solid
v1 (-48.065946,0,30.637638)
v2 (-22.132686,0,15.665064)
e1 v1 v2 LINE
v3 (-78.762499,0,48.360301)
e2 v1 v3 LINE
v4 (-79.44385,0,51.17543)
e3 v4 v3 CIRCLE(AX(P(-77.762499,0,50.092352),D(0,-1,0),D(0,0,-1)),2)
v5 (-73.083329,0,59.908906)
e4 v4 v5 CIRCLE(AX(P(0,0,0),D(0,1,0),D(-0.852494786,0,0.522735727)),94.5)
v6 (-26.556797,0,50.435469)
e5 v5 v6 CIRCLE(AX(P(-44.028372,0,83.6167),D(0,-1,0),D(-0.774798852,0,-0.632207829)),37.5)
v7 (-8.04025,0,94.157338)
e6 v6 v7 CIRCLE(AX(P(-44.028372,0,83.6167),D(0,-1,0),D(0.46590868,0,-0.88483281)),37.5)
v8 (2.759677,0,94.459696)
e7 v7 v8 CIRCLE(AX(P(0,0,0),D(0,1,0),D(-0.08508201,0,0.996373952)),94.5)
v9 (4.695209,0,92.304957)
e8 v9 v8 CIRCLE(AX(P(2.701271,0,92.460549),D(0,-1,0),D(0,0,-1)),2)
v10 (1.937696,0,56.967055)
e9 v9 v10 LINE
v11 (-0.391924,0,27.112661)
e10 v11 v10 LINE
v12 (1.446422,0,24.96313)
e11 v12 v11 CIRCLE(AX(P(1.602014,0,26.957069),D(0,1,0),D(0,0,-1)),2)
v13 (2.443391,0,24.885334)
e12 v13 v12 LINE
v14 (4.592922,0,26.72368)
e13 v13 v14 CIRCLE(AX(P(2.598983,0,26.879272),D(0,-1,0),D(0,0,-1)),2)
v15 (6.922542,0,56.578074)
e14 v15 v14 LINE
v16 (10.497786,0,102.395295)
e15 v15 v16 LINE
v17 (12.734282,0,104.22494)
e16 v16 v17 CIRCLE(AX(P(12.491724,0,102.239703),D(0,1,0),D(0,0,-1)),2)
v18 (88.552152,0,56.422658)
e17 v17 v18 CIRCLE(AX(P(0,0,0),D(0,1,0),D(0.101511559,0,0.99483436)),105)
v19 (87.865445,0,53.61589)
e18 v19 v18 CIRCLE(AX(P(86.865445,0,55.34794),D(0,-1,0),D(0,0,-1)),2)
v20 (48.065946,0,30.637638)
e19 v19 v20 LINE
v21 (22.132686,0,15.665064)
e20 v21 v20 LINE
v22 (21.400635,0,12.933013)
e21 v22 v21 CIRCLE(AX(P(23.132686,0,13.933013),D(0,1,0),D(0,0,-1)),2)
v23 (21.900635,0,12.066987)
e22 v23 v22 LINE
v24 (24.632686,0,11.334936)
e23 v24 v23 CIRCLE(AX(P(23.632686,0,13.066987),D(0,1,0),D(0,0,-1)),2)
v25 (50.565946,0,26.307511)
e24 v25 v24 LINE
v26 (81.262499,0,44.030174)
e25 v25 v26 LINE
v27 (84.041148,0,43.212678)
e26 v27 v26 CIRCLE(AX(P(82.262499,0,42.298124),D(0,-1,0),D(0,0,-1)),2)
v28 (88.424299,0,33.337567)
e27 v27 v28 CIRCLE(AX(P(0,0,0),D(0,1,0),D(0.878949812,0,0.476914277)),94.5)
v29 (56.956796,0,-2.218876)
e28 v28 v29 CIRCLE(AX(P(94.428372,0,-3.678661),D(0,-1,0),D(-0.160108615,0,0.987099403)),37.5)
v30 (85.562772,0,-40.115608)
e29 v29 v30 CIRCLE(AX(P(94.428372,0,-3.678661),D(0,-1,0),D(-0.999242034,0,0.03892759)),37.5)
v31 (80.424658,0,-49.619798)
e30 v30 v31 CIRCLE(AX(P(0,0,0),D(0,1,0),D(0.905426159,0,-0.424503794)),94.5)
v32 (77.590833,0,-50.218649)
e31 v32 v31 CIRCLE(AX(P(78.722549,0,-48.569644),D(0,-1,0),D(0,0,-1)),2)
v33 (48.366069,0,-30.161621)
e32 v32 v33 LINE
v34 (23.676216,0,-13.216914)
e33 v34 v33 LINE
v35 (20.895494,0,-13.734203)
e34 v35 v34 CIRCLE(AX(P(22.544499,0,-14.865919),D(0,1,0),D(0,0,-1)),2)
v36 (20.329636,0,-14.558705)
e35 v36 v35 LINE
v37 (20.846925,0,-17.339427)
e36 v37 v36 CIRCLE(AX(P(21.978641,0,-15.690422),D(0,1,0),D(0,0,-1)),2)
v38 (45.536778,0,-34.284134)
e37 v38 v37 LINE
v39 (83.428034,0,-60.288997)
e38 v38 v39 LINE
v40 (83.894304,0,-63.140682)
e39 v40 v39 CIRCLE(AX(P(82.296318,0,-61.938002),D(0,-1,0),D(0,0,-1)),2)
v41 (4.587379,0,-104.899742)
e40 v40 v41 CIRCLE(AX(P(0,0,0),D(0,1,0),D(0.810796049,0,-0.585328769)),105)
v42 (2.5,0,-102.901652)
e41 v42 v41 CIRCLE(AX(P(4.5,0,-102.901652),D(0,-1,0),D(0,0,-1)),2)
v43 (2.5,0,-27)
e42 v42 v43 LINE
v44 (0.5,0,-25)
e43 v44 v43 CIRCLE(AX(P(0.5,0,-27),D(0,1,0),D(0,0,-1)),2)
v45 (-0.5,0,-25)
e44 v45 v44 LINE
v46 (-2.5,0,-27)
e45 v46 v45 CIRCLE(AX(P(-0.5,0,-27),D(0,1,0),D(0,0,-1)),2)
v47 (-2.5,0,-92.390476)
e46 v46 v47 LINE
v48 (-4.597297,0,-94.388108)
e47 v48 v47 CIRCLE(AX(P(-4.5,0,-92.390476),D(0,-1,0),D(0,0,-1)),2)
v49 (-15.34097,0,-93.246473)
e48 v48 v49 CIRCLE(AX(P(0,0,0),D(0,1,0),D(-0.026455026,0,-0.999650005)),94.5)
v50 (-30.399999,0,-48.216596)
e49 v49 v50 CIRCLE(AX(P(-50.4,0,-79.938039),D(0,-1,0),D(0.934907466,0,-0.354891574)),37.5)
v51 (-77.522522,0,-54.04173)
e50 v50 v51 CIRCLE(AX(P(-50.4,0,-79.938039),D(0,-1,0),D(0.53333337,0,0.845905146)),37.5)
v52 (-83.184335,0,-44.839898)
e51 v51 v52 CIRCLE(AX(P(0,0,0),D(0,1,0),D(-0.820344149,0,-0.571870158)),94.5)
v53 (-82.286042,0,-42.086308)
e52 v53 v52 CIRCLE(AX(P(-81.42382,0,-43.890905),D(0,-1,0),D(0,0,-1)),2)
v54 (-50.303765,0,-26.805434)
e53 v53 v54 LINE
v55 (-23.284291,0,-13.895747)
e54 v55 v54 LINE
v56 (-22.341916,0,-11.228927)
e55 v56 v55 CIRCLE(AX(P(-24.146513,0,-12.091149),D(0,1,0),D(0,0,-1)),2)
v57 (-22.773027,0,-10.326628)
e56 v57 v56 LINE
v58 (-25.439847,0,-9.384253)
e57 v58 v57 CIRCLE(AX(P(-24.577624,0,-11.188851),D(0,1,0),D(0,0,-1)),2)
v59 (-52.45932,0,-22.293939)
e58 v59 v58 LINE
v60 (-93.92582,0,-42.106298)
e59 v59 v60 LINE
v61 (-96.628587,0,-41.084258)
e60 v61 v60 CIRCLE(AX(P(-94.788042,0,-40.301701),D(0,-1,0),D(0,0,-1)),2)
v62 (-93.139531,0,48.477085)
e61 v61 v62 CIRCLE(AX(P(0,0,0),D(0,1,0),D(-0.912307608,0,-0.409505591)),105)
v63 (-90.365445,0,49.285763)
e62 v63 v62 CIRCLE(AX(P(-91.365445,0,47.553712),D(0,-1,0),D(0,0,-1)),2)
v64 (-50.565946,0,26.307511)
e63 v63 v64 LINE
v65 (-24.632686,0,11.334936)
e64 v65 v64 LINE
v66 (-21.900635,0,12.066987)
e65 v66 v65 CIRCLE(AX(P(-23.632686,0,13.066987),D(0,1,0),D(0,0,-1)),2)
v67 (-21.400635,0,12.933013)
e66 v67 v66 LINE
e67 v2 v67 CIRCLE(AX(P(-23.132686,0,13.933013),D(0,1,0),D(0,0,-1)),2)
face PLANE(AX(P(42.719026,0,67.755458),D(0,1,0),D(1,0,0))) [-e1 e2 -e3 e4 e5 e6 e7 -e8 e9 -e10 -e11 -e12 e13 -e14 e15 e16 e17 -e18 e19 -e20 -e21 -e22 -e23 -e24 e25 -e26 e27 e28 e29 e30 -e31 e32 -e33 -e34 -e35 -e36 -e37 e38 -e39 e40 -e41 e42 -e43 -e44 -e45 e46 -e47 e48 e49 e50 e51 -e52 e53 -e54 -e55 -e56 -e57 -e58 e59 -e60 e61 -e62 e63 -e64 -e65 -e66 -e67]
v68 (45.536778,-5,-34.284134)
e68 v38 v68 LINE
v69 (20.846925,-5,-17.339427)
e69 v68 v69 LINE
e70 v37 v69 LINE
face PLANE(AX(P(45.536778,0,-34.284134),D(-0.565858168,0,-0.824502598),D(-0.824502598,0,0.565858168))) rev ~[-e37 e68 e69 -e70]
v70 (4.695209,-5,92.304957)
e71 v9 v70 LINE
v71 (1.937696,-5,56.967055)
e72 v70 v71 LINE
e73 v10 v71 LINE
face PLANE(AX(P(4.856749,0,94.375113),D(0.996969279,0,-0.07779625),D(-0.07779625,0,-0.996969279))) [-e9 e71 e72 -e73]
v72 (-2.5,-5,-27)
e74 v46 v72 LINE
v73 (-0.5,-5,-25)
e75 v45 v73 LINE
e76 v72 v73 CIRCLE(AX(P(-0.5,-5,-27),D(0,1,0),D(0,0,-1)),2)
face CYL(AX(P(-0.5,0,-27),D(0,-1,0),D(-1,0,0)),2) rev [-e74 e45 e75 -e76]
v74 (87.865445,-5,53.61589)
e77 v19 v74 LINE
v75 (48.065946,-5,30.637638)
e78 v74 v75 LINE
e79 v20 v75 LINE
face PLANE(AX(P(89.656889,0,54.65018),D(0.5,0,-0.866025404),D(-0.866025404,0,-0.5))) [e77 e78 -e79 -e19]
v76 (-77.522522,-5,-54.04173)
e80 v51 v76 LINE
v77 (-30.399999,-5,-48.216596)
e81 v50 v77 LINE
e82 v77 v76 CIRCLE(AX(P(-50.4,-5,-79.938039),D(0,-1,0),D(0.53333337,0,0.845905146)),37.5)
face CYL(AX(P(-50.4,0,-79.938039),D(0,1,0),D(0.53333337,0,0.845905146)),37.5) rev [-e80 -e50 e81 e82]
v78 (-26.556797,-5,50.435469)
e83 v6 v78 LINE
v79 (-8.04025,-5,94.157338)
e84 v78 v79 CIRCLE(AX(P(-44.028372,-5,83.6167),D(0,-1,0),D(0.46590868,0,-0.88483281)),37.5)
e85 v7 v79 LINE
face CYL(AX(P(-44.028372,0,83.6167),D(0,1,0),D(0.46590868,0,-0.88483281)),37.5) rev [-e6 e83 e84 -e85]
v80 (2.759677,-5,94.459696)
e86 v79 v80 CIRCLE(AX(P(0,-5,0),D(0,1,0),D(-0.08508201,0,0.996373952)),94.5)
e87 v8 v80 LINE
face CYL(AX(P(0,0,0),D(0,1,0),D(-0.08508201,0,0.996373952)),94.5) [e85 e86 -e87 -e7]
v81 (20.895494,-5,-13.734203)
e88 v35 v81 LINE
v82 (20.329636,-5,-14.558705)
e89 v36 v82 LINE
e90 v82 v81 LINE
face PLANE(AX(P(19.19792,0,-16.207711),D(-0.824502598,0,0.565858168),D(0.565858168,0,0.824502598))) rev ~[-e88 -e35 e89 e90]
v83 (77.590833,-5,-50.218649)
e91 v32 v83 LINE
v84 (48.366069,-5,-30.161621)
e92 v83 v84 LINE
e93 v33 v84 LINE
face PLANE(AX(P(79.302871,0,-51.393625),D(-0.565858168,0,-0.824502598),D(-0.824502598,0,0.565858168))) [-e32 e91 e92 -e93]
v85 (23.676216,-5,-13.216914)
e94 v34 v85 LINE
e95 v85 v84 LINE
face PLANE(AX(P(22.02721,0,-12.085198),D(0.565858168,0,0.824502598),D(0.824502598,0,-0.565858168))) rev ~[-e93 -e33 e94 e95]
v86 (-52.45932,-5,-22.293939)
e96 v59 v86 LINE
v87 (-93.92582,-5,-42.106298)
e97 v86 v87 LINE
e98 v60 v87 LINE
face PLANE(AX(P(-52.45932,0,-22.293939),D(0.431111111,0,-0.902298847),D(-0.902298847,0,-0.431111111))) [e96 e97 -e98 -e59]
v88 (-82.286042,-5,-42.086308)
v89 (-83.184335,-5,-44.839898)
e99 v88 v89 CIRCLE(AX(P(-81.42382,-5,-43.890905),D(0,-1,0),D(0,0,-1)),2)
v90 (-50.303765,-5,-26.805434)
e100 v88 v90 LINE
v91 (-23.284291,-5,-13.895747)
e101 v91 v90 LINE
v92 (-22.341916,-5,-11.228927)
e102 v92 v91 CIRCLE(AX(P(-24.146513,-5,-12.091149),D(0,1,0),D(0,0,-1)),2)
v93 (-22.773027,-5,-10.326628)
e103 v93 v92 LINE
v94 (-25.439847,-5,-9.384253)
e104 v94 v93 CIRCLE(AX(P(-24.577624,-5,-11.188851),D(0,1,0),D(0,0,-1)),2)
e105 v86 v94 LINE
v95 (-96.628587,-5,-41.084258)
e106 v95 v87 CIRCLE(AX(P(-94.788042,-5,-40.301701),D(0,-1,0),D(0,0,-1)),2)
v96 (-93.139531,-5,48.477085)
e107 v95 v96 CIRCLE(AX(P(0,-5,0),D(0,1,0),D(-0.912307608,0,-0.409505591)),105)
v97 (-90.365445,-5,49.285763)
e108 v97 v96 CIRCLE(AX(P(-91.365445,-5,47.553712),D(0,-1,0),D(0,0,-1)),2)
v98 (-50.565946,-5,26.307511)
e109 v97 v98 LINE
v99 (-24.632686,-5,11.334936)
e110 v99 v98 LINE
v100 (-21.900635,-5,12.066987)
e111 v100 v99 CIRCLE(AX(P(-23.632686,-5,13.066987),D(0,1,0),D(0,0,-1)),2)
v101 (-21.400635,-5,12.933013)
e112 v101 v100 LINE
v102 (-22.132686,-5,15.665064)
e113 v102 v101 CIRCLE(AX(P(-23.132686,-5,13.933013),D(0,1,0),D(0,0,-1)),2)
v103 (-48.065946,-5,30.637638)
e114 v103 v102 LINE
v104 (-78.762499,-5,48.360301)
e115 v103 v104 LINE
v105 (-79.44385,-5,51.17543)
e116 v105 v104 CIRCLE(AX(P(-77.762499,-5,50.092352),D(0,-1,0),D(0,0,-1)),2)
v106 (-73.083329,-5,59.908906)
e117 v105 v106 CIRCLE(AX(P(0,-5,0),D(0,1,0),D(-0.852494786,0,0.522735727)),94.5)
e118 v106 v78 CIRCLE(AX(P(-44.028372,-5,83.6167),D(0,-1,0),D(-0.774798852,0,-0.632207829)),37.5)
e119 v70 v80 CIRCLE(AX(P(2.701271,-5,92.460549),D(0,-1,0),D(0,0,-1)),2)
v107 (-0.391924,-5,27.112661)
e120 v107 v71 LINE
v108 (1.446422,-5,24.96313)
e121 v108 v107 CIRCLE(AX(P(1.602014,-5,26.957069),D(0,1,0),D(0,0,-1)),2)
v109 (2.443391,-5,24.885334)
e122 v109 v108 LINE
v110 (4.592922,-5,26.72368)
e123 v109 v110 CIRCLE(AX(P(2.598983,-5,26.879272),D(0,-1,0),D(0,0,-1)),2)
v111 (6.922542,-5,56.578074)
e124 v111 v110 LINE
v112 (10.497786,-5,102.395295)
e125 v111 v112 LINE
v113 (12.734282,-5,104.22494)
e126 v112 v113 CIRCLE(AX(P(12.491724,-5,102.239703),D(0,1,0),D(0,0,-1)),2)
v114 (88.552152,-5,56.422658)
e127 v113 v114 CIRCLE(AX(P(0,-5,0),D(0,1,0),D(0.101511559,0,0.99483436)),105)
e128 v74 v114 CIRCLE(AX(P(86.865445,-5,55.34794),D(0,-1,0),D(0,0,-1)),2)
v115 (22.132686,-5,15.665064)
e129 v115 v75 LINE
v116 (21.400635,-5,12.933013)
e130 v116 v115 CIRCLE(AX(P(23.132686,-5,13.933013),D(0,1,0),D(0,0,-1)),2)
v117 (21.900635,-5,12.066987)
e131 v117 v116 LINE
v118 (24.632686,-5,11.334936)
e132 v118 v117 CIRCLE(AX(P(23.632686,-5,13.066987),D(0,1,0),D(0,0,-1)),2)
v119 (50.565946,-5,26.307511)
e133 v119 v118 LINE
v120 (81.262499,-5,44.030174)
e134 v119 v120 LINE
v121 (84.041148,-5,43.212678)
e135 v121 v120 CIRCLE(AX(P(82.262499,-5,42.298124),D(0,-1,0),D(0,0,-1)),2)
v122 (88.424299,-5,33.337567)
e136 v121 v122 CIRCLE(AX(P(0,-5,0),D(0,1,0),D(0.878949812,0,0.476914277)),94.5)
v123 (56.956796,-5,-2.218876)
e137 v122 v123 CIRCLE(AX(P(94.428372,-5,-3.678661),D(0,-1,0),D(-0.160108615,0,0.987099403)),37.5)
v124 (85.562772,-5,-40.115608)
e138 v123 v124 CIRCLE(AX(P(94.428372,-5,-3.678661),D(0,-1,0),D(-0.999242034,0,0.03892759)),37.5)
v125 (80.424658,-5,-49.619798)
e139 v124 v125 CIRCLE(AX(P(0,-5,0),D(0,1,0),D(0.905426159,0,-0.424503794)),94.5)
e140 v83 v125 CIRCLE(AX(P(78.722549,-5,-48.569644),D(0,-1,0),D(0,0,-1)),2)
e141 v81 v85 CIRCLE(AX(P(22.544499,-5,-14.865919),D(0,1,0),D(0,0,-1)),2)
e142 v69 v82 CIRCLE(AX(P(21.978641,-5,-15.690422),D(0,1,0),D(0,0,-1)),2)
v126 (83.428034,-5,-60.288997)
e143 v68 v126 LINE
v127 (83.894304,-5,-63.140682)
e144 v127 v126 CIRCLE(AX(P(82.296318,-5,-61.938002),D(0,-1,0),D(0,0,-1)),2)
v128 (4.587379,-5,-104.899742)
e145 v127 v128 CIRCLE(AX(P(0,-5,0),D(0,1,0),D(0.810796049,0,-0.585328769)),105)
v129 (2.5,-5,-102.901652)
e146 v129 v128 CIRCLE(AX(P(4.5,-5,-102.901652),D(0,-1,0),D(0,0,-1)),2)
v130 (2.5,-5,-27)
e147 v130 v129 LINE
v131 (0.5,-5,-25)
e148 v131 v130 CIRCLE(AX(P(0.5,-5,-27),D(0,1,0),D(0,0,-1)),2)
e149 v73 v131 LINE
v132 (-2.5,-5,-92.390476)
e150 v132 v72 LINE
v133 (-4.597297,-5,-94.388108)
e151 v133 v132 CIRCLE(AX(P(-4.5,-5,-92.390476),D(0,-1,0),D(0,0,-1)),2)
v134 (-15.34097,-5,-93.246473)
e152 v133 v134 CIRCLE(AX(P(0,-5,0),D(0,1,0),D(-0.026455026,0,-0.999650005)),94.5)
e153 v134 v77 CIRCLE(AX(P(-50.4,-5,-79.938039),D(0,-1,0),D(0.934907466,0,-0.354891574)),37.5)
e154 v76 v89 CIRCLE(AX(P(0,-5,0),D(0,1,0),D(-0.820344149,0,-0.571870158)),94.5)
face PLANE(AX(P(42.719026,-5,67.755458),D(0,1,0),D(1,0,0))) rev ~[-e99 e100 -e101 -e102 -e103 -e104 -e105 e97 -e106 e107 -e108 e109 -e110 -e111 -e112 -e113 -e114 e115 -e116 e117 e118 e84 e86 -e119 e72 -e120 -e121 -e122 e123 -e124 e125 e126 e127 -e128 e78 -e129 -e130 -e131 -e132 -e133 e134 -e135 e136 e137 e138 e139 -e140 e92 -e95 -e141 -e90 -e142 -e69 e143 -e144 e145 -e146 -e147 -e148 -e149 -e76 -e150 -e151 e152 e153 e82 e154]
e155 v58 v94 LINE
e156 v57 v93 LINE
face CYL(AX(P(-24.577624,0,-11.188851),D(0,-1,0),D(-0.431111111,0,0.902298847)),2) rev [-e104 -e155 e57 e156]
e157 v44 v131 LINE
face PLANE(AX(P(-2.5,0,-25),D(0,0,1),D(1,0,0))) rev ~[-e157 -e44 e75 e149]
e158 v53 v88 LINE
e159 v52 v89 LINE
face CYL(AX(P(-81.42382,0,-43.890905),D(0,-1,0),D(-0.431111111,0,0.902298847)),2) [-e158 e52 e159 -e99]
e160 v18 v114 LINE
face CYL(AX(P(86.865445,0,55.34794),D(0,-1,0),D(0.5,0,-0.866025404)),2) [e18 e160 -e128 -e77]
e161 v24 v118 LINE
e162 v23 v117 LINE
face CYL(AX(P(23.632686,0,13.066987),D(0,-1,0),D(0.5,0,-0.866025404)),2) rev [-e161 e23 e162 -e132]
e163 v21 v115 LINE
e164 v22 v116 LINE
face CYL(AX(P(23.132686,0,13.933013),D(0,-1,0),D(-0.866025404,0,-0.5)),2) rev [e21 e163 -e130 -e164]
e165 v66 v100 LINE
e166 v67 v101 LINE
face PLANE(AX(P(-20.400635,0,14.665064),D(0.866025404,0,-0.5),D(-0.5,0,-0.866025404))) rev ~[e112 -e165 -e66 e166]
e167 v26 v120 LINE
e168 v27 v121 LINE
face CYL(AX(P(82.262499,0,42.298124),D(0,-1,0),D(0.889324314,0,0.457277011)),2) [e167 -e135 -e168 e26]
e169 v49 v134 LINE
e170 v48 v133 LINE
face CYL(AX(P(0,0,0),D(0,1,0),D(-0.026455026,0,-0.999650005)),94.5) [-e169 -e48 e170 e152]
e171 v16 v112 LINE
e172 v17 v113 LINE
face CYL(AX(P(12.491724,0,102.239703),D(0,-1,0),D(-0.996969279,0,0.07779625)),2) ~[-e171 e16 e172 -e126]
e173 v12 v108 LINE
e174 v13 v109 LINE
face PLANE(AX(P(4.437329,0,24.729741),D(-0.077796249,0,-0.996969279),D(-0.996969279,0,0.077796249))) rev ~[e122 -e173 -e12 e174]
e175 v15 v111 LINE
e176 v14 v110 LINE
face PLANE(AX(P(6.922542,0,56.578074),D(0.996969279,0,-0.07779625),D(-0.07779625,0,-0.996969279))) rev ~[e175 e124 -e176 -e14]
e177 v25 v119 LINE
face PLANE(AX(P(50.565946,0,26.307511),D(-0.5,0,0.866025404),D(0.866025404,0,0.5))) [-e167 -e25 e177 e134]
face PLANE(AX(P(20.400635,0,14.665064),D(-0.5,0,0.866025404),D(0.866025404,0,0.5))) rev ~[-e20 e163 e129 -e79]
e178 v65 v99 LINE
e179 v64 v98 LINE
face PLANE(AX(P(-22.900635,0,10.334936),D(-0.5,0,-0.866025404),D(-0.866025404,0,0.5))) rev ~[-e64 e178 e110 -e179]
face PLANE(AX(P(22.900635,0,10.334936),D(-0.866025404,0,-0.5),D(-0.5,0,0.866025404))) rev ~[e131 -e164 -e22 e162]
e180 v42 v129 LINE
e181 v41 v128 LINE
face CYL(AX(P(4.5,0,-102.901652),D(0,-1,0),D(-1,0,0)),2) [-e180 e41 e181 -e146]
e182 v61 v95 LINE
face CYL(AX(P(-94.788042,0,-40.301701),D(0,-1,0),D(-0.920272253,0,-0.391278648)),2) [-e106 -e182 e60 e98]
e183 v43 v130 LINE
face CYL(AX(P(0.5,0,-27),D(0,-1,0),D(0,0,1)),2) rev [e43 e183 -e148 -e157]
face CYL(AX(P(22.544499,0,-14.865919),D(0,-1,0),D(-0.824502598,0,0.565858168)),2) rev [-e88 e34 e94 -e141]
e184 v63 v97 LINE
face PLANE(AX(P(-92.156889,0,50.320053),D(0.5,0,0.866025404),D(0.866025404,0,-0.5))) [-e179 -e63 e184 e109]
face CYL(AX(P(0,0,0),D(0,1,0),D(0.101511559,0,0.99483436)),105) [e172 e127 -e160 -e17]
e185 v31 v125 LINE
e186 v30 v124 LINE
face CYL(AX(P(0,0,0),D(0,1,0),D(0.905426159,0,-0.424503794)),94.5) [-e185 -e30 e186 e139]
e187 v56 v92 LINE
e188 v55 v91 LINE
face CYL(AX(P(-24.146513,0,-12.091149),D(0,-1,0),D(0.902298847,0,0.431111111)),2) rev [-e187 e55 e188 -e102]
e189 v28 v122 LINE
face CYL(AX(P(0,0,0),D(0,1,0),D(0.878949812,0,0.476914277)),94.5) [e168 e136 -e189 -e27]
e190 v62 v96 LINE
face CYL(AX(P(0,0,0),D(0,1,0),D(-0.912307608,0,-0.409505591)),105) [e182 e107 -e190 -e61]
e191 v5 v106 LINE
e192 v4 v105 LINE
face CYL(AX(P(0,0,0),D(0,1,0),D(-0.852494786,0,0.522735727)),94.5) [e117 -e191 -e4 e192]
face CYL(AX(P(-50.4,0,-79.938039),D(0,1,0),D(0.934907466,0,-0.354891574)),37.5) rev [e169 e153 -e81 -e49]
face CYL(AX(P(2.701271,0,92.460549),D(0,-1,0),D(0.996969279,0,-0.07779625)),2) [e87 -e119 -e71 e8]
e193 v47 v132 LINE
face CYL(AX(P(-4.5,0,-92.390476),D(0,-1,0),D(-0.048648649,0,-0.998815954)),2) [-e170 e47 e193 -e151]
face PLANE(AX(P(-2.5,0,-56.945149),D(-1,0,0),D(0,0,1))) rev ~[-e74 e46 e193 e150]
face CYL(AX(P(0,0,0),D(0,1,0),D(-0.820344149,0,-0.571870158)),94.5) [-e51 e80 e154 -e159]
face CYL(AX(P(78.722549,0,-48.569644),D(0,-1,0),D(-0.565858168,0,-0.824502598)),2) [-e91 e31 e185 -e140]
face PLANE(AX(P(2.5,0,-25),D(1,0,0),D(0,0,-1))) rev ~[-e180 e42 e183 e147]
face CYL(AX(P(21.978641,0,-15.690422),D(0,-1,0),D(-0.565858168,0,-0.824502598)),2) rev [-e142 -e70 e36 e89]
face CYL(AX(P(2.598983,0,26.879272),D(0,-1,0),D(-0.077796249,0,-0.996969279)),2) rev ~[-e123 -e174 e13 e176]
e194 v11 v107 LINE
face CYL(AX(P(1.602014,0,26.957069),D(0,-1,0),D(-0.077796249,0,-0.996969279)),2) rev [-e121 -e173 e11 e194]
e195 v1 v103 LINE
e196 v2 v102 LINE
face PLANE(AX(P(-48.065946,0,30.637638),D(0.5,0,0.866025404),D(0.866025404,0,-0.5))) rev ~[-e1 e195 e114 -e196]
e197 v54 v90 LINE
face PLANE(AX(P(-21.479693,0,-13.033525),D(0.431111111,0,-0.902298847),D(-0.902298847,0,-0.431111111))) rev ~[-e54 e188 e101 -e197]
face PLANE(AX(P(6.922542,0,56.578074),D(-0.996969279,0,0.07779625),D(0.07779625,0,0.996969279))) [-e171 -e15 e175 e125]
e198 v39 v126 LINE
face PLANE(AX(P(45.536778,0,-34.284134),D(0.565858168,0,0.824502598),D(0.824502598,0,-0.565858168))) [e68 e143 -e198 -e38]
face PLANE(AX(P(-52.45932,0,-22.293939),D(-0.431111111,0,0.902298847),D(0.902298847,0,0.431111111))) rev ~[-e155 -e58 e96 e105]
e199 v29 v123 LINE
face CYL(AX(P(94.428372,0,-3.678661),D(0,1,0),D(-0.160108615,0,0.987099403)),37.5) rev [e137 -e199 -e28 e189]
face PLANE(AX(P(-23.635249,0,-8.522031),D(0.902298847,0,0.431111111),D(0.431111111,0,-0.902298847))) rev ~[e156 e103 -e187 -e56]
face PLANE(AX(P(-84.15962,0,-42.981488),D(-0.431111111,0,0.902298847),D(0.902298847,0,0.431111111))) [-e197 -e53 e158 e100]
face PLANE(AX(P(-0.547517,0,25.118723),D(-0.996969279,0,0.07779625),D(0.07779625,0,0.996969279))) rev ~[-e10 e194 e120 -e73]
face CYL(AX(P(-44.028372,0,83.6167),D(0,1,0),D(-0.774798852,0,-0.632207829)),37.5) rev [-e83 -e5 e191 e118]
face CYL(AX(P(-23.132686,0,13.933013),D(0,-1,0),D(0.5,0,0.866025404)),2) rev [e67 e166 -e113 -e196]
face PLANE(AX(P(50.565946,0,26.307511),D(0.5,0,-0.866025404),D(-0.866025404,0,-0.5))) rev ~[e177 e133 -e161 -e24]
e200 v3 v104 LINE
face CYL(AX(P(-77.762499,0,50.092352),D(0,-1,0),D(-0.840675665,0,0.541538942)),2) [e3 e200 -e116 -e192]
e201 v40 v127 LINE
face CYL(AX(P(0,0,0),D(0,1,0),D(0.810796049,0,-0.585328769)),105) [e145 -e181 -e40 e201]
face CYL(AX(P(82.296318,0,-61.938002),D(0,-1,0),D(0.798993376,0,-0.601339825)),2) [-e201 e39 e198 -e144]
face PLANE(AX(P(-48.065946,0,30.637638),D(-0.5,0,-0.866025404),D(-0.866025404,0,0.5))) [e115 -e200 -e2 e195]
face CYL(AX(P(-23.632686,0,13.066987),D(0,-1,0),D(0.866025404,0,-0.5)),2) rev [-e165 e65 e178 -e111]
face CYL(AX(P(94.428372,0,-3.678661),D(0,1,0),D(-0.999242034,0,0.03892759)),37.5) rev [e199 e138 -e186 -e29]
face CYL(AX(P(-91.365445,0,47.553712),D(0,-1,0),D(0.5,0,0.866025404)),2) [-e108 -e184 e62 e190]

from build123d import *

# Parameters (mm, degrees)
EXTRUDE_1_DEPTH = 5
EXTRUDE_2_DEPTH = 5
FILLET_1_R      = 2


with BuildPart() as part:
    # 草圖1 → 填料-伸長1 (new body)
    with BuildSketch(Plane(origin=(0, 0, 0), x_dir=(1, 0, 0), z_dir=(0, 1, 0))):
        with BuildLine():
            Line((50.565945697, -26.307511014), (22.900635095, -10.334936491))
            Line((22.900635095, -10.334936491), (20.400635095, -14.665063509))
            Line((20.400635095, -14.665063509), (48.065945697, -30.637638033))
            ThreePointArc((48.065945697, -30.637638033), (30.4, -48.216594654), (6.922542226, -56.578073572))
            Line((6.922542226, -56.578073572), (4.437329437, -24.729741355))
            Line((4.437329437, -24.729741355), (-0.547516958, -25.118722602))
            Line((-0.547516958, -25.118722602), (1.93769583, -56.96705482))
            ThreePointArc((1.93769583, -56.96705482), (-26.556795854, -50.435469602), (-48.065945697, -30.637638033))
            Line((-48.065945697, -30.637638033), (-20.400635095, -14.665063509))
            Line((-20.400635095, -14.665063509), (-22.900635095, -10.334936491))
            Line((-22.900635095, -10.334936491), (-50.565945697, -26.307511014))
            ThreePointArc((-50.565945697, -26.307511014), (-56.956795854, -2.218874948), (-52.459320124, 22.29393936))
            Line((-52.459320124, 22.29393936), (-23.635248961, 8.522030659))
            Line((-23.635248961, 8.522030659), (-21.479693405, 13.033524896))
            Line((-21.479693405, 13.033524896), (-50.303764568, 26.805433596))
            ThreePointArc((-50.303764568, 26.805433596), (-30.4, 48.216594654), (-2.5, 56.945149047))
            Line((-2.5, 56.945149047), (-2.5, 25))
            Line((-2.5, 25), (2.5, 25))
            Line((2.5, 25), (2.5, 56.945149047))
            ThreePointArc((2.5, 56.945149047), (26.556795854, 50.435469602), (45.536777898, 34.284134212))
            Line((45.536777898, 34.284134212), (19.197919523, 16.207710695))
            Line((19.197919523, 16.207710695), (22.027210363, 12.085197706))
            Line((22.027210363, 12.085197706), (48.366068738, 30.161621224))
            ThreePointArc((48.366068738, 30.161621224), (56.956795854, 2.218874948), (50.565945697, -26.307511014))
        make_face()
    extrude(amount=-EXTRUDE_1_DEPTH)

    # 草圖4 → 填料-伸長2 (add)
    with BuildSketch(Plane(origin=(0, 0, 0), x_dir=(1, 0, 0), z_dir=(0, 1, 0))):
        with BuildLine():
            ThreePointArc((48.065945697, -30.637638033), (30.4, -48.216594654), (6.922542226, -56.578073572))
            Line((6.922542226, -56.578073572), (10.658713711, -104.457607775))
            ThreePointArc((10.658713711, -104.457607775), (56, -88.820042783), (89.656889178, -54.650180448))
            Line((89.656889178, -54.650180448), (48.065945697, -30.637638033))
        make_face()
        with BuildLine():
            Line((4.85674931, -94.375113172), (1.93769583, -56.96705482))
            ThreePointArc((1.93769583, -56.96705482), (-12.735400783, -55.559063769), (-26.556796584, -50.435469218))
            ThreePointArc((-26.556796584, -50.435469218), (-9.497439871, -68.99258523), (-8.040249963, -94.157338432))
            ThreePointArc((-8.040249963, -94.157338432), (-1.595470326, -94.486530651), (4.85674931, -94.375113172))
        make_face()
        with BuildLine():
            ThreePointArc((56.956795794, 2.218876491), (55.621252058, -12.460991916), (50.565945697, -26.307511014))
            Line((50.565945697, -26.307511014), (83.060757239, -45.068399205))
            ThreePointArc((83.060757239, -45.068399205), (85.942912679, -39.294602178), (88.424299029, -33.337566517))
            ThreePointArc((88.424299029, -33.337566517), (66.346381744, -21.173940759), (56.956795794, 2.218876491))
        make_face()
        with BuildLine():
            ThreePointArc((-73.083329018, -59.908906012), (-51.510362628, -46.870681896), (-26.556796584, -50.435469218))
            ThreePointArc((-26.556796584, -50.435469218), (-38.602162456, -41.938920512), (-48.065945697, -30.637638033))
            Line((-48.065945697, -30.637638033), (-80.560757239, -49.398526224))
            ThreePointArc((-80.560757239, -49.398526224), (-77.001580057, -54.781444566), (-73.083329018, -59.908906012))
        make_face()
        with BuildLine():
            ThreePointArc((48.366068738, 30.161621224), (54.483260678, 16.750352411), (56.956795794, 2.218876491))
            ThreePointArc((56.956795794, 2.218876491), (64.498052131, 26.271269361), (85.562772016, 40.115608495))
            ThreePointArc((85.562772016, 40.115608495), (82.625471022, 45.861547492), (79.302870836, 51.393624868))
            Line((79.302870836, 51.393624868), (48.366068738, 30.161621224))
        make_face()
        with BuildLine():
            Line((-92.156889178, -50.320053429), (-50.565945697, -26.307511014))
            ThreePointArc((-50.565945697, -26.307511014), (-56.956795854, -2.218874948), (-52.459320124, 22.29393936))
            Line((-52.459320124, 22.29393936), (-95.792298807, 42.998087042))
            ThreePointArc((-95.792298807, 42.998087042), (-104.920413415, -4.08740122), (-92.156889178, -50.320053429))
        make_face()
        with BuildLine():
            ThreePointArc((2.5, 56.945149047), (26.556795854, 50.435469602), (45.536777898, 34.284134212))
            Line((45.536777898, 34.284134212), (85.133585096, 61.459520733))
            ThreePointArc((85.133585096, 61.459520733), (48.920413415, 92.907444004), (2.5, 104.970233876))
            Line((2.5, 104.970233876), (2.5, 56.945149047))
        make_face()
        with BuildLine():
            Line((-84.159620147, 42.981488303), (-50.303764568, 26.805433596))
            ThreePointArc((-50.303764568, 26.805433596), (-41.747859976, 38.808712777), (-30.399998639, 48.216595512))
            ThreePointArc((-30.399998639, 48.216595512), (-55.000611157, 42.721316766), (-77.522522053, 54.041729936))
            ThreePointArc((-77.522522053, 54.041729936), (-81.030000696, 48.624983159), (-84.159620147, 42.981488303))
        make_face()
        with BuildLine():
            ThreePointArc((-30.399998639, 48.216595512), (-17.019088969, 54.399913701), (-2.5, 56.945149047))
            Line((-2.5, 56.945149047), (-2.5, 94.466925429))
            ThreePointArc((-2.5, 94.466925429), (-8.941332621, 94.076046744), (-15.34097001, 93.246472529))
            ThreePointArc((-15.34097001, 93.246472529), (-14.836019776, 68.044623914), (-30.399998639, 48.216595512))
        make_face()
    extrude(amount=-EXTRUDE_2_DEPTH)

    # 圓角1
    fillet_1_edges = [part.edges().sort_by_distance(p)[0] for p in [
        (-80.560757239, -2.5, 49.398526224),
        (4.85674931, -2.5, 94.375113172),
        (-84.159620147, -2.5, -42.981488303),
        (-2.5, -2.5, -94.466925429),
        (79.302870836, -2.5, -51.393624868),
        (83.060757239, -2.5, 45.068399205),
        (4.437329437, -2.5, 24.729741355),
        (-0.547516958, -2.5, 25.118722602),
        (-20.400635095, -2.5, 14.665063509),
        (-22.900635095, -2.5, 10.334936491),
        (-23.635248961, -2.5, -8.522030659),
        (-21.479693405, -2.5, -13.033524896),
        (-2.5, -2.5, -25),
        (2.5, -2.5, -25),
        (19.197919523, -2.5, -16.207710695),
        (22.027210363, -2.5, -12.085197706),
        (22.900635095, -2.5, 10.334936491),
        (20.400635095, -2.5, 14.665063509),
        (-95.792298807, -2.5, -42.998087042),
        (-92.156889178, -2.5, 50.320053429),
        (10.658713711, -2.5, 104.457607775),
        (89.656889178, -2.5, 54.650180448),
        (85.133585096, -2.5, -61.459520733),
        (2.5, -2.5, -104.970233876),
    ]]
    fillet(fillet_1_edges, radius=FILLET_1_R)


solid = part.part
